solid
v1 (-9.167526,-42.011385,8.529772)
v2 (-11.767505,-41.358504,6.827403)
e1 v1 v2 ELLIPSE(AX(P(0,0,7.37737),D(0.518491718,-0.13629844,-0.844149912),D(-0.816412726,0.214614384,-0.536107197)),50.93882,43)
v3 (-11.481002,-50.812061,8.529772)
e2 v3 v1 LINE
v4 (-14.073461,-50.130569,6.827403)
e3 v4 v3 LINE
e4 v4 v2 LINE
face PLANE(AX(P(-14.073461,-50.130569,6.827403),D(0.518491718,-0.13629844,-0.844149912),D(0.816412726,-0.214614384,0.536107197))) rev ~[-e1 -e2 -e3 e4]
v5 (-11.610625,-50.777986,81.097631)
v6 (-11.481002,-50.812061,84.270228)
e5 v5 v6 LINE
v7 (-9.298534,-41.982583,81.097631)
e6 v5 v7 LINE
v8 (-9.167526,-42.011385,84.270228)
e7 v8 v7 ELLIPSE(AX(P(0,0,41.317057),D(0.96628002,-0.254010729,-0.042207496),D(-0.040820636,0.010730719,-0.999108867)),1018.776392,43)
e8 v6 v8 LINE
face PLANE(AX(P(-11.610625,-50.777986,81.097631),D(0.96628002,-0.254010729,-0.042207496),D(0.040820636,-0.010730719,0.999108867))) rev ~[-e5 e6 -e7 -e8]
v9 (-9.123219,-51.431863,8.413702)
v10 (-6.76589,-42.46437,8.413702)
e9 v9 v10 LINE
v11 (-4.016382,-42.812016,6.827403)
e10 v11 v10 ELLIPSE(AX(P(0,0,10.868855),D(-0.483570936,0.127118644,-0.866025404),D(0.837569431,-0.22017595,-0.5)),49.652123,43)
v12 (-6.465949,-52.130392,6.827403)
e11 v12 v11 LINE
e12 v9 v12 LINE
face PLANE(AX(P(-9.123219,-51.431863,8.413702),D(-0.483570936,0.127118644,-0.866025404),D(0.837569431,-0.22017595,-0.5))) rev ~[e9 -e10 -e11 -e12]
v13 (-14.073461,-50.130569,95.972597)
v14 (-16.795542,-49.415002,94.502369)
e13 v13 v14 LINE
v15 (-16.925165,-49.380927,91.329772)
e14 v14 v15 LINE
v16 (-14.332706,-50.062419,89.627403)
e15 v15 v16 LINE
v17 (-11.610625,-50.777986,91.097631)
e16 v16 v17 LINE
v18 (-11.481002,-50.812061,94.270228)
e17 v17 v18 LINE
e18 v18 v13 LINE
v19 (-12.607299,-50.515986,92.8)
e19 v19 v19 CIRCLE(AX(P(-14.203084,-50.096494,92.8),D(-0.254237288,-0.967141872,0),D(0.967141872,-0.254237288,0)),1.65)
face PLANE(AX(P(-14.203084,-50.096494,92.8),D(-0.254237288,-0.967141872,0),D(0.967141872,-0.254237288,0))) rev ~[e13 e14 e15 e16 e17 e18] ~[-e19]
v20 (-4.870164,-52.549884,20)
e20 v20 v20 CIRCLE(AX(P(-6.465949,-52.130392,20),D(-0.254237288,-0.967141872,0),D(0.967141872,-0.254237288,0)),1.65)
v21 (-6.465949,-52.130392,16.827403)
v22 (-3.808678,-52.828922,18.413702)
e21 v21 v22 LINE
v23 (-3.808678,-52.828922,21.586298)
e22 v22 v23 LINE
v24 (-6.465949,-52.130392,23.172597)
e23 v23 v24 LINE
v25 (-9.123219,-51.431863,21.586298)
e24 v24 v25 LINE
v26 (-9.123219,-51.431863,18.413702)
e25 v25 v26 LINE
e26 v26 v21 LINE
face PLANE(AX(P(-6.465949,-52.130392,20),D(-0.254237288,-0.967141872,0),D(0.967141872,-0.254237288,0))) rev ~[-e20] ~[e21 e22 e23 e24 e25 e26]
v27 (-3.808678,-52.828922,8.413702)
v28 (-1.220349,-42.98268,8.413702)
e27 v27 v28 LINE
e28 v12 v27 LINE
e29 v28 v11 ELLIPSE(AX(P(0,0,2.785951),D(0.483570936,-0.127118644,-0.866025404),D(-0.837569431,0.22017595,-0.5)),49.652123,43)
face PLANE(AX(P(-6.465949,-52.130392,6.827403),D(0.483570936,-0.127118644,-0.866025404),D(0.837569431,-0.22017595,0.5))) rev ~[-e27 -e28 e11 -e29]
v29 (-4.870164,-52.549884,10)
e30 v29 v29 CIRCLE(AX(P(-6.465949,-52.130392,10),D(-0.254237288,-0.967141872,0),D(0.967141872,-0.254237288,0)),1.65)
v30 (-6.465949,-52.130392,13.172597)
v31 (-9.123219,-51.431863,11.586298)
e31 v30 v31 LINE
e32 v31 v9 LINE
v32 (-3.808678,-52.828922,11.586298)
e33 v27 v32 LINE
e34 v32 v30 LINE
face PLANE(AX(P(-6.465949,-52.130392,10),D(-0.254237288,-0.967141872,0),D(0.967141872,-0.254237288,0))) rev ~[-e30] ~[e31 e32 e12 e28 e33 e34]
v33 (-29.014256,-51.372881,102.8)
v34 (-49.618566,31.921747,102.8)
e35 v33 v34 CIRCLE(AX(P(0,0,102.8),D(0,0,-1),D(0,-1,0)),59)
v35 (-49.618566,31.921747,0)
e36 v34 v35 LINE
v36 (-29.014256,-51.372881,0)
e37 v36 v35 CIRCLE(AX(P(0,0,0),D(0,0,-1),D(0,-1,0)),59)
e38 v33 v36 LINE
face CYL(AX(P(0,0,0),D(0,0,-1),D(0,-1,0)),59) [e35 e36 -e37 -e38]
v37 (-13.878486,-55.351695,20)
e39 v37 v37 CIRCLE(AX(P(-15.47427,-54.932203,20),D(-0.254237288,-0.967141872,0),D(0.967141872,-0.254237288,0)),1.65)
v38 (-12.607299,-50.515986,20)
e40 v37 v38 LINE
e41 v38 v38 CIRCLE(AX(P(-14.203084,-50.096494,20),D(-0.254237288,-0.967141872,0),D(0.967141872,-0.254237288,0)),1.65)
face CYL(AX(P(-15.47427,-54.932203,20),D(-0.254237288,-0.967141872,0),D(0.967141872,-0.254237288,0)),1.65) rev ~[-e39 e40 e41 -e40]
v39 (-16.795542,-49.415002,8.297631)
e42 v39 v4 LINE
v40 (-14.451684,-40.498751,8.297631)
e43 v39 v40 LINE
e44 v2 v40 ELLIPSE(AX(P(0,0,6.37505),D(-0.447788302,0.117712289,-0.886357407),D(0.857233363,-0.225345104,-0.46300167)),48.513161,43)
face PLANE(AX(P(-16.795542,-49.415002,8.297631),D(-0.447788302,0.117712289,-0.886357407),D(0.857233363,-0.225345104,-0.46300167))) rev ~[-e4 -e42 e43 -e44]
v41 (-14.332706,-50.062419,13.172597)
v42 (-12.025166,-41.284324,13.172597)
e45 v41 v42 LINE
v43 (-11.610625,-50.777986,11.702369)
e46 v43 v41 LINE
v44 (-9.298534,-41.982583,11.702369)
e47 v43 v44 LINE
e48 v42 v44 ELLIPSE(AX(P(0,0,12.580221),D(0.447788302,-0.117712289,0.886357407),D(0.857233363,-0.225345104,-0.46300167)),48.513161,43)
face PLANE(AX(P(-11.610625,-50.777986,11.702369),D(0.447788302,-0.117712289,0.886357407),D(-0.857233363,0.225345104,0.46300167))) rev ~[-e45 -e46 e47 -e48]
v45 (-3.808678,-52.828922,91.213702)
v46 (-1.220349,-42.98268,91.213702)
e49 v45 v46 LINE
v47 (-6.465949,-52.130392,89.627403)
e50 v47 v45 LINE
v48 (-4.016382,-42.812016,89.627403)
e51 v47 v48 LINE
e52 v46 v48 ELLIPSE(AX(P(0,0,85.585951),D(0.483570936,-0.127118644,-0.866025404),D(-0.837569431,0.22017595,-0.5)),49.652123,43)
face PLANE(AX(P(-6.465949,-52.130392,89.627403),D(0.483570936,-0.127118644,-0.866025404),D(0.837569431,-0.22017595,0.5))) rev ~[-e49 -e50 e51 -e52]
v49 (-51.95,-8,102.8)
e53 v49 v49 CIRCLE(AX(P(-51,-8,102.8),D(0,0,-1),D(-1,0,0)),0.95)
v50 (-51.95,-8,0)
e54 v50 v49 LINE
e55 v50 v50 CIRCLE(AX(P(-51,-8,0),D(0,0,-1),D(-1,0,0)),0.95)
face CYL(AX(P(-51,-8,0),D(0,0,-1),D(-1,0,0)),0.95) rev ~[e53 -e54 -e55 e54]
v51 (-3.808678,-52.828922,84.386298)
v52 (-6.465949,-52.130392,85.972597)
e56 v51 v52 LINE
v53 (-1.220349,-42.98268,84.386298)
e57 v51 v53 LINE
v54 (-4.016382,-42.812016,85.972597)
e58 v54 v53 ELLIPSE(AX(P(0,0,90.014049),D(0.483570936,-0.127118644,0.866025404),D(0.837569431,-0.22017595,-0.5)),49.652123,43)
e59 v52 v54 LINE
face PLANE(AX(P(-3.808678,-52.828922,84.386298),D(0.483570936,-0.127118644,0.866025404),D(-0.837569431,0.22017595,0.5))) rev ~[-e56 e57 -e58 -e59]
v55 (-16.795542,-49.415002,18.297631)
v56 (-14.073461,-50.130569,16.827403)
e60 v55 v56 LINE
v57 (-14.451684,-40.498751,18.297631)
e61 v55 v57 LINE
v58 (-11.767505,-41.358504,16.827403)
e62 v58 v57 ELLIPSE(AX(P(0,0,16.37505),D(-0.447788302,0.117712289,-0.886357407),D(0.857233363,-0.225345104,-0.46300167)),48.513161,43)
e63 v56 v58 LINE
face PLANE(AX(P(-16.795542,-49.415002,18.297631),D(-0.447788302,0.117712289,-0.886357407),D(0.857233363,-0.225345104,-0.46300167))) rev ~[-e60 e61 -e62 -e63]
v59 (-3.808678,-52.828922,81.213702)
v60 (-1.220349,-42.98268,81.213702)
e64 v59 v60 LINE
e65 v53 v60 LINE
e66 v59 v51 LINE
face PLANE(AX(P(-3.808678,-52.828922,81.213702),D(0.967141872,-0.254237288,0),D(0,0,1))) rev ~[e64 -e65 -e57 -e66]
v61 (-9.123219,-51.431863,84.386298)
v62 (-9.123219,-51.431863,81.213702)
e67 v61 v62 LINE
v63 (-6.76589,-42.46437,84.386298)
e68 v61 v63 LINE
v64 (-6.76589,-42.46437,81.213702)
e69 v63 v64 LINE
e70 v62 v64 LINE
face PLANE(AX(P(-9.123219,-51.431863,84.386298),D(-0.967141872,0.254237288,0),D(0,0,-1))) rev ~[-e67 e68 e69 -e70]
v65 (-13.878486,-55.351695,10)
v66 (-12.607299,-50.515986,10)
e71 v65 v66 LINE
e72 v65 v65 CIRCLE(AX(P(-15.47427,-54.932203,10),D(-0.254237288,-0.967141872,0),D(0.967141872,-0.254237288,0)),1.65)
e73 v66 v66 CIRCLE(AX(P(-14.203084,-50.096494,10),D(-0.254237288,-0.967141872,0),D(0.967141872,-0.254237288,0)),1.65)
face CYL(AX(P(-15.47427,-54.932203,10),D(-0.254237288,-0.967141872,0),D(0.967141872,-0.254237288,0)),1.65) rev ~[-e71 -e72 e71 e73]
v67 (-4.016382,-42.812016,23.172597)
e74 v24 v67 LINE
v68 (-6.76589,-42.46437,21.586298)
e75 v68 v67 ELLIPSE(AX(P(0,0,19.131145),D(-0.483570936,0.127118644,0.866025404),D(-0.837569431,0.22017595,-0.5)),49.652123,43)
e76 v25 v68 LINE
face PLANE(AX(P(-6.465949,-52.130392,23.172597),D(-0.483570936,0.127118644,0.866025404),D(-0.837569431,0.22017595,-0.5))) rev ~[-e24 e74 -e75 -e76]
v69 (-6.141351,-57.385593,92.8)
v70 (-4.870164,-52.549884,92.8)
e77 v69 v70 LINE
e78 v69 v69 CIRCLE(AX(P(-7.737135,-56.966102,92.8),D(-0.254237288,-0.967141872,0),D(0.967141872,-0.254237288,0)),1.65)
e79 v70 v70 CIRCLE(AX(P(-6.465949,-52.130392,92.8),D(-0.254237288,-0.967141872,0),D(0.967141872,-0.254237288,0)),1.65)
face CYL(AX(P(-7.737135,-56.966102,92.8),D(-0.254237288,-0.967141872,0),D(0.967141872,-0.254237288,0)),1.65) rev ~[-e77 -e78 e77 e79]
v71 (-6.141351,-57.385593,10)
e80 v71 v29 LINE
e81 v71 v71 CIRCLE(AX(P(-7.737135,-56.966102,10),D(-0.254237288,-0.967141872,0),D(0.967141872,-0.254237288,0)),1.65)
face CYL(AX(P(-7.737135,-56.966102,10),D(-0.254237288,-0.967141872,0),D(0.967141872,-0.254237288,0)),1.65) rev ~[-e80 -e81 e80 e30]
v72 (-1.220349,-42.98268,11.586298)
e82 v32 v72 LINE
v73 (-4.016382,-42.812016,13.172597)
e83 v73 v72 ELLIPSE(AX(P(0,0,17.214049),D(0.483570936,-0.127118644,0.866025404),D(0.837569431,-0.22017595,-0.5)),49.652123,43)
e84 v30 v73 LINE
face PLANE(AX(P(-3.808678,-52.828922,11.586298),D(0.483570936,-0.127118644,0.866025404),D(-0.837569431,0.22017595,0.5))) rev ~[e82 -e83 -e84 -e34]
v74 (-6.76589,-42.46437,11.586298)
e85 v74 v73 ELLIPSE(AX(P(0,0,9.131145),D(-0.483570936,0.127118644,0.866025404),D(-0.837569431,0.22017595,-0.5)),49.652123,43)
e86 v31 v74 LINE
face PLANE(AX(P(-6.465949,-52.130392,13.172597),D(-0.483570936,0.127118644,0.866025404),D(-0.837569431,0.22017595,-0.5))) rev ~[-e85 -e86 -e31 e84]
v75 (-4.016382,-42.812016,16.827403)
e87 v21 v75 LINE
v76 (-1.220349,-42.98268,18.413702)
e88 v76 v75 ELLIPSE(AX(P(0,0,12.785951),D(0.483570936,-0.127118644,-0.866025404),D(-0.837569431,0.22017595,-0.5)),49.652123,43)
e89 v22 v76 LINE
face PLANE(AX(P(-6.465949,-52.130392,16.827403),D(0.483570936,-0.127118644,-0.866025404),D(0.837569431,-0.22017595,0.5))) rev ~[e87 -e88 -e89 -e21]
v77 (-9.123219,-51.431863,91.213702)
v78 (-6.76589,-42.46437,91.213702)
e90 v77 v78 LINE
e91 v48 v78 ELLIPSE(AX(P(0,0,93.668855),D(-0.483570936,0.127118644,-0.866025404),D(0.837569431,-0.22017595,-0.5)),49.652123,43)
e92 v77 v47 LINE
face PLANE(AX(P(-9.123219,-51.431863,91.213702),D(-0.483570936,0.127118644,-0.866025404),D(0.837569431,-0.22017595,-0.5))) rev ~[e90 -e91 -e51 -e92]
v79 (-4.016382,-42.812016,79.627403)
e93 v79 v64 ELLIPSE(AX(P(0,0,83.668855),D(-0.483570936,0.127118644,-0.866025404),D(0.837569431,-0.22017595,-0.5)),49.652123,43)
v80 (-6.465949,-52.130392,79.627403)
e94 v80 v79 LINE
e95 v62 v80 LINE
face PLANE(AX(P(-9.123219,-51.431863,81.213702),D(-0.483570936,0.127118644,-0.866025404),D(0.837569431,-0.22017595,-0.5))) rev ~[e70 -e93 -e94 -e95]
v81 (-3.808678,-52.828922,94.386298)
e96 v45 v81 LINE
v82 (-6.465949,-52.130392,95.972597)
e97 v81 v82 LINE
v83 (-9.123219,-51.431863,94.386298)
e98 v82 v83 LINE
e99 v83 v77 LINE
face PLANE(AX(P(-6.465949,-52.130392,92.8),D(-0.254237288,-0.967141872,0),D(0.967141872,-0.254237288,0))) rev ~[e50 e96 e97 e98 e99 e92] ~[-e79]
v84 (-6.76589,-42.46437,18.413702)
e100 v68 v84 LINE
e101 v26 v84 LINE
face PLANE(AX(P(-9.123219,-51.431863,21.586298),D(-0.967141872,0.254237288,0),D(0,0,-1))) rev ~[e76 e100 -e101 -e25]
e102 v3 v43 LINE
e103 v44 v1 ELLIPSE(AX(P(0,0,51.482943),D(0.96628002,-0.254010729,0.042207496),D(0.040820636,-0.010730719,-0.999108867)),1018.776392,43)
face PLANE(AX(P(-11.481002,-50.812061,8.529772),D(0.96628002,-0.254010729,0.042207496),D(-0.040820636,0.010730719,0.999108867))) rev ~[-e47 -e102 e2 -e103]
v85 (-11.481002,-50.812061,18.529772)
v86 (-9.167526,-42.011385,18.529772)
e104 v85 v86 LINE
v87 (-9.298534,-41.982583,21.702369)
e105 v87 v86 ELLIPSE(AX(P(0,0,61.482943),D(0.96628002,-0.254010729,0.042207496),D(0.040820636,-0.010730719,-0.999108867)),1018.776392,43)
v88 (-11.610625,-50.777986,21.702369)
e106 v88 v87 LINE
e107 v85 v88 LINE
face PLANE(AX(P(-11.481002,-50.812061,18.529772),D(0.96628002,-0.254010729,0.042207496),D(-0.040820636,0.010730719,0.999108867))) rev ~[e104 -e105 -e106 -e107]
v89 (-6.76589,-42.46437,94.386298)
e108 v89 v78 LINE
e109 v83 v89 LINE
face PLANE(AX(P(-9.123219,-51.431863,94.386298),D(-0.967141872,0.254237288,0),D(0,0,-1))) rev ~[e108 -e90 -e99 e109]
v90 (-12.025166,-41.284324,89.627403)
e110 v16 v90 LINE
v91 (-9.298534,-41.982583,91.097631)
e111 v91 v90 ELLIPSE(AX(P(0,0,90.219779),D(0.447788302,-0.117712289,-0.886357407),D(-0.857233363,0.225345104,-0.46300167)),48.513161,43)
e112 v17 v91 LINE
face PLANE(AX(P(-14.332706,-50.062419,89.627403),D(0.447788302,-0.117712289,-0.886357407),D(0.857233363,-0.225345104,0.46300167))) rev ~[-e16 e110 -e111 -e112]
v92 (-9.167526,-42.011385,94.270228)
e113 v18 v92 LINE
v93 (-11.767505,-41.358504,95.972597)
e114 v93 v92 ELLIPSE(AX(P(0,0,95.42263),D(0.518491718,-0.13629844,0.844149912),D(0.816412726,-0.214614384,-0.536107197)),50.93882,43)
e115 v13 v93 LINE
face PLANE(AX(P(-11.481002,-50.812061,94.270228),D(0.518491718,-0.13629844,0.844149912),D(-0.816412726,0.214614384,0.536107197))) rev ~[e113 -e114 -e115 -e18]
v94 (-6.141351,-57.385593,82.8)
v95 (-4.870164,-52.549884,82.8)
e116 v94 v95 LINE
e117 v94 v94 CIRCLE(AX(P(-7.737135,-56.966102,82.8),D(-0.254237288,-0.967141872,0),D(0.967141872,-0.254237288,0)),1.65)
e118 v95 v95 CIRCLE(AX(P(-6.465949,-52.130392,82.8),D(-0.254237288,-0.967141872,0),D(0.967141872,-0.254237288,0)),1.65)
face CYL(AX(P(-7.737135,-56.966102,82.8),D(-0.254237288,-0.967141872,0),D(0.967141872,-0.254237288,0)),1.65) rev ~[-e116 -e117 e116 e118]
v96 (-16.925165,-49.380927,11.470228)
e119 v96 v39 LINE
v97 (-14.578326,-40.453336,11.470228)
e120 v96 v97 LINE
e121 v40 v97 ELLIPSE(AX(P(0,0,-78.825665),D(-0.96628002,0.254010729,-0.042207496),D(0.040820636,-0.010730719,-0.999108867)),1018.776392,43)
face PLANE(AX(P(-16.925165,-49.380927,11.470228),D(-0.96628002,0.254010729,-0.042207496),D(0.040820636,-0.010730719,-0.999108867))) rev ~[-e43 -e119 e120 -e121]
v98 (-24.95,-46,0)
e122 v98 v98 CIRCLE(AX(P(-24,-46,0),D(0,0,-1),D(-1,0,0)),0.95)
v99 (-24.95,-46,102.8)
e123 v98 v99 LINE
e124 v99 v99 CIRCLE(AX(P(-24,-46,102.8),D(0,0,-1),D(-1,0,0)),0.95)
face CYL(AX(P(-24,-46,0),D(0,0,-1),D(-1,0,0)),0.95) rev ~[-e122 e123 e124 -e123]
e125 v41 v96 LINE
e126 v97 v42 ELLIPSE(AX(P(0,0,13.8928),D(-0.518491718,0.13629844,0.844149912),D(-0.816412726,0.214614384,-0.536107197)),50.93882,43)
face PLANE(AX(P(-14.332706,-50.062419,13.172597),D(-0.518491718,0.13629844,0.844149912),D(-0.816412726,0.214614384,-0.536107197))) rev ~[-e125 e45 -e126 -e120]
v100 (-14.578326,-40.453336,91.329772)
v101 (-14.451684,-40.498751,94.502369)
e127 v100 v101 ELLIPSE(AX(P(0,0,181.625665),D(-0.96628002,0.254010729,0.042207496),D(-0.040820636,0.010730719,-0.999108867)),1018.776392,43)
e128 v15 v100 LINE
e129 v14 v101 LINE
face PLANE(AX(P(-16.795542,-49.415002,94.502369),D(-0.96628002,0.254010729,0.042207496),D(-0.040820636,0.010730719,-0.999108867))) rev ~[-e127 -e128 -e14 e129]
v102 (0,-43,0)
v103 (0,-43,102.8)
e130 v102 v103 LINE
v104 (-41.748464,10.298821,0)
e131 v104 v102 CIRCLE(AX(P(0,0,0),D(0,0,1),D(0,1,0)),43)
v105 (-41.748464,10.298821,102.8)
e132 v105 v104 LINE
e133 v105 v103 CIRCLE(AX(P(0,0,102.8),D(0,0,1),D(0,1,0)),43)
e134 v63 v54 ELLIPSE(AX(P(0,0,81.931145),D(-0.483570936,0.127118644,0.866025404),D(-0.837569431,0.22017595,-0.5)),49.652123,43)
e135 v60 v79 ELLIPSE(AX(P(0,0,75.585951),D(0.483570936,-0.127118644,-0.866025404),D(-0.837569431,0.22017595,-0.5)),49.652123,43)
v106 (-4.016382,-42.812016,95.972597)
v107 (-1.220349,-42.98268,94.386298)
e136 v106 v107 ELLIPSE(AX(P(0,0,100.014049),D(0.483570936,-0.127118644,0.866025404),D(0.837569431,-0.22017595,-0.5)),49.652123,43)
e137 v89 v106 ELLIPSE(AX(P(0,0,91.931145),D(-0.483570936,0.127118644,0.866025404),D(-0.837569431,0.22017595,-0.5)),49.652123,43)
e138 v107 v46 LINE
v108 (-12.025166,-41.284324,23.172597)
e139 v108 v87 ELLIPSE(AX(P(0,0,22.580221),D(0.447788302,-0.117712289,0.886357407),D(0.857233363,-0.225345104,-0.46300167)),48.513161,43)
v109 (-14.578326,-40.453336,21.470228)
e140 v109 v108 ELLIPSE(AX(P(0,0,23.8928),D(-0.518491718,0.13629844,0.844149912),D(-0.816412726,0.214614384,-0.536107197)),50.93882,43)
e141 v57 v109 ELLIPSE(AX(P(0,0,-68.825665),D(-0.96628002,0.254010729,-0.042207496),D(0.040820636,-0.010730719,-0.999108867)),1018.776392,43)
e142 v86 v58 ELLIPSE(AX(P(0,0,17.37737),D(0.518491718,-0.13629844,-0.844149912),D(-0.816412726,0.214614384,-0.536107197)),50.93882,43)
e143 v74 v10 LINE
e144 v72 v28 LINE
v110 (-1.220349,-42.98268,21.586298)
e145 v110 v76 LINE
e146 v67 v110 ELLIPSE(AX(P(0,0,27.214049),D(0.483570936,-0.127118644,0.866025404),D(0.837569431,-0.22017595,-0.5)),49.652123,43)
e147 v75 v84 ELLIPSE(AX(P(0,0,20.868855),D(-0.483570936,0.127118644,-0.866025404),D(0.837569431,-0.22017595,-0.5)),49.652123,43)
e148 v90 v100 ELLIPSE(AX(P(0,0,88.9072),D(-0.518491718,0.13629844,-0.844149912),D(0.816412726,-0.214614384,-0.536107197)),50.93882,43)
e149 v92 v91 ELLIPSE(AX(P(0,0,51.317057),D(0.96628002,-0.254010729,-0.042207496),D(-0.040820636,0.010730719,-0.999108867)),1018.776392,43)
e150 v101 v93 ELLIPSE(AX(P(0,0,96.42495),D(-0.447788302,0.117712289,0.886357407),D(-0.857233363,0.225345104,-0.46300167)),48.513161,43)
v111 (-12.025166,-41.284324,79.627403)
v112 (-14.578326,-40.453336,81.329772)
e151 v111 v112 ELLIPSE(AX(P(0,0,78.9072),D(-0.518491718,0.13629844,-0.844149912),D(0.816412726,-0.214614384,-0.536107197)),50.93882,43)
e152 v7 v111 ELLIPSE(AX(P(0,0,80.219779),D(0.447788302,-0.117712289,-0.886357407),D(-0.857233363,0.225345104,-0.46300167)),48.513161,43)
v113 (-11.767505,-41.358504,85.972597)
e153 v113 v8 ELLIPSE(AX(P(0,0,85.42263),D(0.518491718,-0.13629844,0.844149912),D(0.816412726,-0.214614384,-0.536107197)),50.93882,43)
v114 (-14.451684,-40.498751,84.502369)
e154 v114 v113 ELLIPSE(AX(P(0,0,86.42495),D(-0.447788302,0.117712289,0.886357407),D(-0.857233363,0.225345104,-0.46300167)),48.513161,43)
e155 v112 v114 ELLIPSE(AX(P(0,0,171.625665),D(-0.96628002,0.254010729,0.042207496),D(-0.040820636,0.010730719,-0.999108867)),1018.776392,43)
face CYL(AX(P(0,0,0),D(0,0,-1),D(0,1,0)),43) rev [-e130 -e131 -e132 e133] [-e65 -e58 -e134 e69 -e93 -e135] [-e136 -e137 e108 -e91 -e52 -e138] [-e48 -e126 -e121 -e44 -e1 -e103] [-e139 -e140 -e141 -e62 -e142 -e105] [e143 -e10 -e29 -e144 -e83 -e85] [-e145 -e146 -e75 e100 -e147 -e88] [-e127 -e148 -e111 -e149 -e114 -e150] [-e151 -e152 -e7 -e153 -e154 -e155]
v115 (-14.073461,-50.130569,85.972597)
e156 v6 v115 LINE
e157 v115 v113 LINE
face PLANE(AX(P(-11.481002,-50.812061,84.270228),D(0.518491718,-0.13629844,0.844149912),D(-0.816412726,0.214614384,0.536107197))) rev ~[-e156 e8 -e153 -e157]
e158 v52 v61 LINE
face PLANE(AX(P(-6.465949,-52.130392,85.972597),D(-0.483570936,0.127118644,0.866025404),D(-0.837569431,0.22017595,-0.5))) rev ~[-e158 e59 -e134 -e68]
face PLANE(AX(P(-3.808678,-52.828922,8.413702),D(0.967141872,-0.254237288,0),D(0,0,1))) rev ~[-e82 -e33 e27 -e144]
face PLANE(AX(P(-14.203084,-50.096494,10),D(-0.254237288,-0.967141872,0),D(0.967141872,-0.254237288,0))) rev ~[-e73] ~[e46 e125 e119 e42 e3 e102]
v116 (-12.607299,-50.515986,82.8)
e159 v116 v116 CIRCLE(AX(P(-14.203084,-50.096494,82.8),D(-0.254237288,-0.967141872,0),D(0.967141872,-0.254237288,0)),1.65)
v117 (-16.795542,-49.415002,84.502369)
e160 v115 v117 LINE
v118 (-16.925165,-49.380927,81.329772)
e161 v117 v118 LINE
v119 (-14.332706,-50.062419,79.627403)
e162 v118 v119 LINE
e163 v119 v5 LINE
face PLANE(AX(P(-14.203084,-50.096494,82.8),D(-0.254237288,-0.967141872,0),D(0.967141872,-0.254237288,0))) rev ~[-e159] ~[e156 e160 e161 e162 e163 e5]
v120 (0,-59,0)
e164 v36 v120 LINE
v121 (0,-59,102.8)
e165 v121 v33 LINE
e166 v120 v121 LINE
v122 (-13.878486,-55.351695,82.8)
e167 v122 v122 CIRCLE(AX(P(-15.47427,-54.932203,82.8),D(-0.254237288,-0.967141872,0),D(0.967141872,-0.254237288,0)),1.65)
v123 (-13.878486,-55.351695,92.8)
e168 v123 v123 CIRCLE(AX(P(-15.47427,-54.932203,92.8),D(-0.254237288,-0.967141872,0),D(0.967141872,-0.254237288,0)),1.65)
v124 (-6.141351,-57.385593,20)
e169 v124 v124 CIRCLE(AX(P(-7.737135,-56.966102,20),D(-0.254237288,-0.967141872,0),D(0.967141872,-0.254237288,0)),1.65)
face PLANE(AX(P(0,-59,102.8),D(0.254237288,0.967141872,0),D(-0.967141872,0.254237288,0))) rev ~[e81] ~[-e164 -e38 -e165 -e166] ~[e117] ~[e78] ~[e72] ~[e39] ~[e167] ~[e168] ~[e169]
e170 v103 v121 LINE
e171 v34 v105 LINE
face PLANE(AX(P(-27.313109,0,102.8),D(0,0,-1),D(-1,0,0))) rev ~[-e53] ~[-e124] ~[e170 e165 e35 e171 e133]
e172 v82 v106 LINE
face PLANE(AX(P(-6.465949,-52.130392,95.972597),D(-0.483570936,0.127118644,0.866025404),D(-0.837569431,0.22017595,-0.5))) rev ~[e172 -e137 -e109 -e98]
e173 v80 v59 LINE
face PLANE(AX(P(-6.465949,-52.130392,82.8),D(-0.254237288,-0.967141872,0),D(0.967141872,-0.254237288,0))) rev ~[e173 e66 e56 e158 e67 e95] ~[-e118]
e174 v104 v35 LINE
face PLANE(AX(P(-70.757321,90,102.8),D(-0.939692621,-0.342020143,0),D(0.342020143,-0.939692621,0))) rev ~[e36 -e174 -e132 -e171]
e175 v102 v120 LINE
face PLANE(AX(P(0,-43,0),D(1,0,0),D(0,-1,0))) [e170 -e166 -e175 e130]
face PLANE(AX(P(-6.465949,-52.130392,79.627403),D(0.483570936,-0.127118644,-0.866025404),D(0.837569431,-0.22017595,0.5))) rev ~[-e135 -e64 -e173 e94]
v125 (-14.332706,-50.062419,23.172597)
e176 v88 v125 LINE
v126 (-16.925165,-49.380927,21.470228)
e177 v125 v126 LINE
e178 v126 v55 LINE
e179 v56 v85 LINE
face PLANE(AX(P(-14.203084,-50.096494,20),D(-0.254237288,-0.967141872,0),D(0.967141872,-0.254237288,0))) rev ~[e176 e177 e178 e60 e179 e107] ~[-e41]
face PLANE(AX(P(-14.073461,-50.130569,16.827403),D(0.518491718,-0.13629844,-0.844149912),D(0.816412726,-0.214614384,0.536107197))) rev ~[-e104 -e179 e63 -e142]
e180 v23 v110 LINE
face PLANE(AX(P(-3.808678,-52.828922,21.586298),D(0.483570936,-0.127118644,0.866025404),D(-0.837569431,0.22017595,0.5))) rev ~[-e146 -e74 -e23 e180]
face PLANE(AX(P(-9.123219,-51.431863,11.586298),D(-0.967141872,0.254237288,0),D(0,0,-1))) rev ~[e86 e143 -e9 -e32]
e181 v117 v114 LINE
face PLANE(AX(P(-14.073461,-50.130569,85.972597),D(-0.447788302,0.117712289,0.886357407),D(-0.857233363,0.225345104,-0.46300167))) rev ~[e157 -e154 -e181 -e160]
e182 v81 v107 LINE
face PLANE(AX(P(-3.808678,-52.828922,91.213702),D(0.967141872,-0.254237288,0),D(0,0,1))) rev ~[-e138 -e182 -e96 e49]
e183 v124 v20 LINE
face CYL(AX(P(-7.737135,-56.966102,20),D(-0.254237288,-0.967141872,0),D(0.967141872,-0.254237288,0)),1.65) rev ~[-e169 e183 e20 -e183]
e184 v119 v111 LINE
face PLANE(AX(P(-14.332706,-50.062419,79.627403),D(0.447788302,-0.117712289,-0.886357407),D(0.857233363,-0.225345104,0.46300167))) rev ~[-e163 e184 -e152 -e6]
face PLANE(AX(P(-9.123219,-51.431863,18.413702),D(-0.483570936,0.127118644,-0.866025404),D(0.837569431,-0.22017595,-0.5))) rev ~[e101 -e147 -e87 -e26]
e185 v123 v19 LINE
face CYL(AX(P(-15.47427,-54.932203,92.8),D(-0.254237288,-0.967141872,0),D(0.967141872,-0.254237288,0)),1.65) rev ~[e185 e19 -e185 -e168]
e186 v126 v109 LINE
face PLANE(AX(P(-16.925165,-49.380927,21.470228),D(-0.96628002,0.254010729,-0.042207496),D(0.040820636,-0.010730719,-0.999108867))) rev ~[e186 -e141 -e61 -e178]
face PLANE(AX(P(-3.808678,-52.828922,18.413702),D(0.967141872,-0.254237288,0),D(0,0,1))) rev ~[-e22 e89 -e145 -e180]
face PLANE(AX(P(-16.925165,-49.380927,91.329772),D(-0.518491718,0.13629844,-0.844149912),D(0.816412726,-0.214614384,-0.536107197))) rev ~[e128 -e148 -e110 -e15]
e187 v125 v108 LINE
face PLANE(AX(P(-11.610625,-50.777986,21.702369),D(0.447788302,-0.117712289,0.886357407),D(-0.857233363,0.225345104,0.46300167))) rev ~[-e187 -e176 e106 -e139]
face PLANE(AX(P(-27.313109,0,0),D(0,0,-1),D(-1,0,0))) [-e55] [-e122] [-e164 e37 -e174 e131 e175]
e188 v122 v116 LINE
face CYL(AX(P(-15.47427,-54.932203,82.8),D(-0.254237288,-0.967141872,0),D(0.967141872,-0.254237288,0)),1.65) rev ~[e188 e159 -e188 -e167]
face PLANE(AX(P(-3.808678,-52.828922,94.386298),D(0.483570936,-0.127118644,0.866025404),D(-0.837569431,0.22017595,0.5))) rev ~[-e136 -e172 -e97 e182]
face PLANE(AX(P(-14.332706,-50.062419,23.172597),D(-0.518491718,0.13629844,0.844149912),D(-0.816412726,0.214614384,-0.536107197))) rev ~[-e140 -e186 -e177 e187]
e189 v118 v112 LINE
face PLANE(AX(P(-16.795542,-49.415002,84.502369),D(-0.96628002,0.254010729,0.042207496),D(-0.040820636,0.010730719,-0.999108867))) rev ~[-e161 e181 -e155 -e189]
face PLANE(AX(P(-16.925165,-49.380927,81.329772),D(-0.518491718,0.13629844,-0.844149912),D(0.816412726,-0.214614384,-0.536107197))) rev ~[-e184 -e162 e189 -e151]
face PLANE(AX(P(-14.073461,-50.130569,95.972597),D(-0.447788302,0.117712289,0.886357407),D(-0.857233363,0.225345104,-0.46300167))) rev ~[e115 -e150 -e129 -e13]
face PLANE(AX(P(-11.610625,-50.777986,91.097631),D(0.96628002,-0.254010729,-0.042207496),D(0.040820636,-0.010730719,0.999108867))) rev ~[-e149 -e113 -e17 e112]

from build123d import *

# Parameters (mm, degrees)
BOSS_EXTRUDE1_DEPTH = 102.8
CUT_EXTRUDE1_DEPTH  = 103.8
CUT_EXTRUDE2_DEPTH  = 103.8
CUT_EXTRUDE3_REACH  = 89.934
SKETCH5_R           = 1.65
CUT_EXTRUDE4_START  = -5
CUT_EXTRUDE4_DEPTH  = 83.934228689
SKETCH7_R           = 0.95
CUT_EXTRUDE5_DEPTH  = 103.8


with BuildPart() as part:
    # Sketch1 → Boss-Extrude1 (new body)
    with BuildSketch(Plane.XY):
        with BuildLine():
            Line((0, 59), (0, 43))
            ThreePointArc((0, 43), (-43, 0), (0, -43))
            Line((0, -43), (0, -59))
            ThreePointArc((0, -59), (-59, 0), (0, 59))
        make_face()
    extrude(amount=BOSS_EXTRUDE1_DEPTH)

    # Sketch3 → Cut-Extrude1 (cut, through all)
    with BuildSketch(Plane.XY.offset(102.8)):
        Polygon((0, 0), (0, 90), (-70.757321084, 90), (-38, 0), align=None)
    extrude(amount=-CUT_EXTRUDE1_DEPTH, mode=Mode.SUBTRACT)

    # Sketch4 → Cut-Extrude2 (cut, through all)
    with BuildSketch(Plane.XY.offset(102.8)):
        Polygon((0, -59), (-29.014256172, -51.372881356), (-31.019233948, -59), align=None)
    extrude(amount=-CUT_EXTRUDE2_DEPTH, mode=Mode.SUBTRACT)

    # Sketch5 → Cut-Extrude3 (cut, up to next)
    with BuildSketch(Plane(origin=(-14.507128086, -55.186440678, 0), x_dir=(0.967141872, -0.254237288, 0), z_dir=(-0.254237288, -0.967141872, 0)), mode=Mode.PRIVATE) as cut_extrude3_sk1:
        with Locations((-1, 20)):
            Circle(SKETCH5_R)
    cut_extrude3_tool1 = extrude(cut_extrude3_sk1.sketch, amount=-CUT_EXTRUDE3_REACH, mode=Mode.PRIVATE) & part.part
    add(cut_extrude3_tool1.solids().sort_by_distance((-15.47427, -54.932203, 20))[0], mode=Mode.SUBTRACT)
    # Sketch5 → Cut-Extrude3 (cut, up to next)
    with BuildSketch(Plane(origin=(-14.507128086, -55.186440678, 0), x_dir=(0.967141872, -0.254237288, 0), z_dir=(-0.254237288, -0.967141872, 0)), mode=Mode.PRIVATE) as cut_extrude3_sk2:
        with Locations((-1, 10)):
            Circle(SKETCH5_R)
    cut_extrude3_tool2 = extrude(cut_extrude3_sk2.sketch, amount=-CUT_EXTRUDE3_REACH, mode=Mode.PRIVATE) & part.part
    add(cut_extrude3_tool2.solids().sort_by_distance((-15.47427, -54.932203, 10))[0], mode=Mode.SUBTRACT)
    # Sketch5 → Cut-Extrude3 (cut, up to next)
    with BuildSketch(Plane(origin=(-14.507128086, -55.186440678, 0), x_dir=(0.967141872, -0.254237288, 0), z_dir=(-0.254237288, -0.967141872, 0)), mode=Mode.PRIVATE) as cut_extrude3_sk3:
        with Locations((-1, 92.8)):
            Circle(SKETCH5_R)
    cut_extrude3_tool3 = extrude(cut_extrude3_sk3.sketch, amount=-CUT_EXTRUDE3_REACH, mode=Mode.PRIVATE) & part.part
    add(cut_extrude3_tool3.solids().sort_by_distance((-15.47427, -54.932203, 92.8))[0], mode=Mode.SUBTRACT)
    # Sketch5 → Cut-Extrude3 (cut, up to next)
    with BuildSketch(Plane(origin=(-14.507128086, -55.186440678, 0), x_dir=(0.967141872, -0.254237288, 0), z_dir=(-0.254237288, -0.967141872, 0)), mode=Mode.PRIVATE) as cut_extrude3_sk4:
        with Locations((-1, 82.8)):
            Circle(SKETCH5_R)
    cut_extrude3_tool4 = extrude(cut_extrude3_sk4.sketch, amount=-CUT_EXTRUDE3_REACH, mode=Mode.PRIVATE) & part.part
    add(cut_extrude3_tool4.solids().sort_by_distance((-15.47427, -54.932203, 82.8))[0], mode=Mode.SUBTRACT)
    # Sketch5 → Cut-Extrude3 (cut, up to next)
    with BuildSketch(Plane(origin=(-14.507128086, -55.186440678, 0), x_dir=(0.967141872, -0.254237288, 0), z_dir=(-0.254237288, -0.967141872, 0)), mode=Mode.PRIVATE) as cut_extrude3_sk5:
        with Locations((7, 20)):
            Circle(SKETCH5_R)
    cut_extrude3_tool5 = extrude(cut_extrude3_sk5.sketch, amount=-CUT_EXTRUDE3_REACH, mode=Mode.PRIVATE) & part.part
    add(cut_extrude3_tool5.solids().sort_by_distance((-7.737135, -56.966102, 20))[0], mode=Mode.SUBTRACT)
    # Sketch5 → Cut-Extrude3 (cut, up to next)
    with BuildSketch(Plane(origin=(-14.507128086, -55.186440678, 0), x_dir=(0.967141872, -0.254237288, 0), z_dir=(-0.254237288, -0.967141872, 0)), mode=Mode.PRIVATE) as cut_extrude3_sk6:
        with Locations((7, 10)):
            Circle(SKETCH5_R)
    cut_extrude3_tool6 = extrude(cut_extrude3_sk6.sketch, amount=-CUT_EXTRUDE3_REACH, mode=Mode.PRIVATE) & part.part
    add(cut_extrude3_tool6.solids().sort_by_distance((-7.737135, -56.966102, 10))[0], mode=Mode.SUBTRACT)
    # Sketch5 → Cut-Extrude3 (cut, up to next)
    with BuildSketch(Plane(origin=(-14.507128086, -55.186440678, 0), x_dir=(0.967141872, -0.254237288, 0), z_dir=(-0.254237288, -0.967141872, 0)), mode=Mode.PRIVATE) as cut_extrude3_sk7:
        with Locations((7, 92.8)):
            Circle(SKETCH5_R)
    cut_extrude3_tool7 = extrude(cut_extrude3_sk7.sketch, amount=-CUT_EXTRUDE3_REACH, mode=Mode.PRIVATE) & part.part
    add(cut_extrude3_tool7.solids().sort_by_distance((-7.737135, -56.966102, 92.8))[0], mode=Mode.SUBTRACT)
    # Sketch5 → Cut-Extrude3 (cut, up to next)
    with BuildSketch(Plane(origin=(-14.507128086, -55.186440678, 0), x_dir=(0.967141872, -0.254237288, 0), z_dir=(-0.254237288, -0.967141872, 0)), mode=Mode.PRIVATE) as cut_extrude3_sk8:
        with Locations((7, 82.8)):
            Circle(SKETCH5_R)
    cut_extrude3_tool8 = extrude(cut_extrude3_sk8.sketch, amount=-CUT_EXTRUDE3_REACH, mode=Mode.PRIVATE) & part.part
    add(cut_extrude3_tool8.solids().sort_by_distance((-7.737135, -56.966102, 82.8))[0], mode=Mode.SUBTRACT)

    # Sketch6 → Cut-Extrude4 (cut, through all)
    with BuildSketch(Plane(origin=(-14.507128086, -55.186440678, 0), x_dir=(0.967141872, -0.254237288, 0), z_dir=(-0.254237288, -0.967141872, 0)).offset(CUT_EXTRUDE4_START)):
        Polygon((7, 95.972596752), (4.252450617, 94.386298376), (4.252450617, 91.213701624), (7, 89.627403248), (9.747549383, 91.213701624), (9.747549383, 94.386298376), align=None)
        Polygon((1.680535984, 91.097631011), (1.814562783, 94.270227763), (-0.865973201, 95.972596752), (-3.680535984, 94.502368989), (-3.814562783, 91.329772237), (-1.134026799, 89.627403248), align=None)
        Polygon((1.680535984, 81.097631011), (1.814562783, 84.270227763), (-0.865973201, 85.972596752), (-3.680535984, 84.502368989), (-3.814562783, 81.329772237), (-1.134026799, 79.627403248), align=None)
        Polygon((1.680535984, 21.702368989), (-1.134026799, 23.172596752), (-3.814562783, 21.470227763), (-3.680535984, 18.297631011), (-0.865973201, 16.827403248), (1.814562783, 18.529772237), align=None)
        Polygon((1.680535984, 11.702368989), (-1.134026799, 13.172596752), (-3.814562783, 11.470227763), (-3.680535984, 8.297631011), (-0.865973201, 6.827403248), (1.814562783, 8.529772237), align=None)
        Polygon((7, 85.972596752), (4.252450617, 84.386298376), (4.252450617, 81.213701624), (7, 79.627403248), (9.747549383, 81.213701624), (9.747549383, 84.386298376), align=None)
        Polygon((7, 23.172596752), (4.252450617, 21.586298376), (4.252450617, 18.413701624), (7, 16.827403248), (9.747549383, 18.413701624), (9.747549383, 21.586298376), align=None)
        Polygon((7, 13.172596752), (4.252450617, 11.586298376), (4.252450617, 8.413701624), (7, 6.827403248), (9.747549383, 8.413701624), (9.747549383, 11.586298376), align=None)
    extrude(amount=-CUT_EXTRUDE4_DEPTH, mode=Mode.SUBTRACT)

    # Sketch7 → Cut-Extrude5 (cut, through all)
    with BuildSketch(Plane(origin=(0, 0, 0), x_dir=(-1, 0, 0), z_dir=(0, 0, -1))):
        with Locations((24, -46)):
            Circle(SKETCH7_R)
        with Locations((51, -8)):
            Circle(SKETCH7_R)
    extrude(amount=-CUT_EXTRUDE5_DEPTH, mode=Mode.SUBTRACT)


solid = part.part
